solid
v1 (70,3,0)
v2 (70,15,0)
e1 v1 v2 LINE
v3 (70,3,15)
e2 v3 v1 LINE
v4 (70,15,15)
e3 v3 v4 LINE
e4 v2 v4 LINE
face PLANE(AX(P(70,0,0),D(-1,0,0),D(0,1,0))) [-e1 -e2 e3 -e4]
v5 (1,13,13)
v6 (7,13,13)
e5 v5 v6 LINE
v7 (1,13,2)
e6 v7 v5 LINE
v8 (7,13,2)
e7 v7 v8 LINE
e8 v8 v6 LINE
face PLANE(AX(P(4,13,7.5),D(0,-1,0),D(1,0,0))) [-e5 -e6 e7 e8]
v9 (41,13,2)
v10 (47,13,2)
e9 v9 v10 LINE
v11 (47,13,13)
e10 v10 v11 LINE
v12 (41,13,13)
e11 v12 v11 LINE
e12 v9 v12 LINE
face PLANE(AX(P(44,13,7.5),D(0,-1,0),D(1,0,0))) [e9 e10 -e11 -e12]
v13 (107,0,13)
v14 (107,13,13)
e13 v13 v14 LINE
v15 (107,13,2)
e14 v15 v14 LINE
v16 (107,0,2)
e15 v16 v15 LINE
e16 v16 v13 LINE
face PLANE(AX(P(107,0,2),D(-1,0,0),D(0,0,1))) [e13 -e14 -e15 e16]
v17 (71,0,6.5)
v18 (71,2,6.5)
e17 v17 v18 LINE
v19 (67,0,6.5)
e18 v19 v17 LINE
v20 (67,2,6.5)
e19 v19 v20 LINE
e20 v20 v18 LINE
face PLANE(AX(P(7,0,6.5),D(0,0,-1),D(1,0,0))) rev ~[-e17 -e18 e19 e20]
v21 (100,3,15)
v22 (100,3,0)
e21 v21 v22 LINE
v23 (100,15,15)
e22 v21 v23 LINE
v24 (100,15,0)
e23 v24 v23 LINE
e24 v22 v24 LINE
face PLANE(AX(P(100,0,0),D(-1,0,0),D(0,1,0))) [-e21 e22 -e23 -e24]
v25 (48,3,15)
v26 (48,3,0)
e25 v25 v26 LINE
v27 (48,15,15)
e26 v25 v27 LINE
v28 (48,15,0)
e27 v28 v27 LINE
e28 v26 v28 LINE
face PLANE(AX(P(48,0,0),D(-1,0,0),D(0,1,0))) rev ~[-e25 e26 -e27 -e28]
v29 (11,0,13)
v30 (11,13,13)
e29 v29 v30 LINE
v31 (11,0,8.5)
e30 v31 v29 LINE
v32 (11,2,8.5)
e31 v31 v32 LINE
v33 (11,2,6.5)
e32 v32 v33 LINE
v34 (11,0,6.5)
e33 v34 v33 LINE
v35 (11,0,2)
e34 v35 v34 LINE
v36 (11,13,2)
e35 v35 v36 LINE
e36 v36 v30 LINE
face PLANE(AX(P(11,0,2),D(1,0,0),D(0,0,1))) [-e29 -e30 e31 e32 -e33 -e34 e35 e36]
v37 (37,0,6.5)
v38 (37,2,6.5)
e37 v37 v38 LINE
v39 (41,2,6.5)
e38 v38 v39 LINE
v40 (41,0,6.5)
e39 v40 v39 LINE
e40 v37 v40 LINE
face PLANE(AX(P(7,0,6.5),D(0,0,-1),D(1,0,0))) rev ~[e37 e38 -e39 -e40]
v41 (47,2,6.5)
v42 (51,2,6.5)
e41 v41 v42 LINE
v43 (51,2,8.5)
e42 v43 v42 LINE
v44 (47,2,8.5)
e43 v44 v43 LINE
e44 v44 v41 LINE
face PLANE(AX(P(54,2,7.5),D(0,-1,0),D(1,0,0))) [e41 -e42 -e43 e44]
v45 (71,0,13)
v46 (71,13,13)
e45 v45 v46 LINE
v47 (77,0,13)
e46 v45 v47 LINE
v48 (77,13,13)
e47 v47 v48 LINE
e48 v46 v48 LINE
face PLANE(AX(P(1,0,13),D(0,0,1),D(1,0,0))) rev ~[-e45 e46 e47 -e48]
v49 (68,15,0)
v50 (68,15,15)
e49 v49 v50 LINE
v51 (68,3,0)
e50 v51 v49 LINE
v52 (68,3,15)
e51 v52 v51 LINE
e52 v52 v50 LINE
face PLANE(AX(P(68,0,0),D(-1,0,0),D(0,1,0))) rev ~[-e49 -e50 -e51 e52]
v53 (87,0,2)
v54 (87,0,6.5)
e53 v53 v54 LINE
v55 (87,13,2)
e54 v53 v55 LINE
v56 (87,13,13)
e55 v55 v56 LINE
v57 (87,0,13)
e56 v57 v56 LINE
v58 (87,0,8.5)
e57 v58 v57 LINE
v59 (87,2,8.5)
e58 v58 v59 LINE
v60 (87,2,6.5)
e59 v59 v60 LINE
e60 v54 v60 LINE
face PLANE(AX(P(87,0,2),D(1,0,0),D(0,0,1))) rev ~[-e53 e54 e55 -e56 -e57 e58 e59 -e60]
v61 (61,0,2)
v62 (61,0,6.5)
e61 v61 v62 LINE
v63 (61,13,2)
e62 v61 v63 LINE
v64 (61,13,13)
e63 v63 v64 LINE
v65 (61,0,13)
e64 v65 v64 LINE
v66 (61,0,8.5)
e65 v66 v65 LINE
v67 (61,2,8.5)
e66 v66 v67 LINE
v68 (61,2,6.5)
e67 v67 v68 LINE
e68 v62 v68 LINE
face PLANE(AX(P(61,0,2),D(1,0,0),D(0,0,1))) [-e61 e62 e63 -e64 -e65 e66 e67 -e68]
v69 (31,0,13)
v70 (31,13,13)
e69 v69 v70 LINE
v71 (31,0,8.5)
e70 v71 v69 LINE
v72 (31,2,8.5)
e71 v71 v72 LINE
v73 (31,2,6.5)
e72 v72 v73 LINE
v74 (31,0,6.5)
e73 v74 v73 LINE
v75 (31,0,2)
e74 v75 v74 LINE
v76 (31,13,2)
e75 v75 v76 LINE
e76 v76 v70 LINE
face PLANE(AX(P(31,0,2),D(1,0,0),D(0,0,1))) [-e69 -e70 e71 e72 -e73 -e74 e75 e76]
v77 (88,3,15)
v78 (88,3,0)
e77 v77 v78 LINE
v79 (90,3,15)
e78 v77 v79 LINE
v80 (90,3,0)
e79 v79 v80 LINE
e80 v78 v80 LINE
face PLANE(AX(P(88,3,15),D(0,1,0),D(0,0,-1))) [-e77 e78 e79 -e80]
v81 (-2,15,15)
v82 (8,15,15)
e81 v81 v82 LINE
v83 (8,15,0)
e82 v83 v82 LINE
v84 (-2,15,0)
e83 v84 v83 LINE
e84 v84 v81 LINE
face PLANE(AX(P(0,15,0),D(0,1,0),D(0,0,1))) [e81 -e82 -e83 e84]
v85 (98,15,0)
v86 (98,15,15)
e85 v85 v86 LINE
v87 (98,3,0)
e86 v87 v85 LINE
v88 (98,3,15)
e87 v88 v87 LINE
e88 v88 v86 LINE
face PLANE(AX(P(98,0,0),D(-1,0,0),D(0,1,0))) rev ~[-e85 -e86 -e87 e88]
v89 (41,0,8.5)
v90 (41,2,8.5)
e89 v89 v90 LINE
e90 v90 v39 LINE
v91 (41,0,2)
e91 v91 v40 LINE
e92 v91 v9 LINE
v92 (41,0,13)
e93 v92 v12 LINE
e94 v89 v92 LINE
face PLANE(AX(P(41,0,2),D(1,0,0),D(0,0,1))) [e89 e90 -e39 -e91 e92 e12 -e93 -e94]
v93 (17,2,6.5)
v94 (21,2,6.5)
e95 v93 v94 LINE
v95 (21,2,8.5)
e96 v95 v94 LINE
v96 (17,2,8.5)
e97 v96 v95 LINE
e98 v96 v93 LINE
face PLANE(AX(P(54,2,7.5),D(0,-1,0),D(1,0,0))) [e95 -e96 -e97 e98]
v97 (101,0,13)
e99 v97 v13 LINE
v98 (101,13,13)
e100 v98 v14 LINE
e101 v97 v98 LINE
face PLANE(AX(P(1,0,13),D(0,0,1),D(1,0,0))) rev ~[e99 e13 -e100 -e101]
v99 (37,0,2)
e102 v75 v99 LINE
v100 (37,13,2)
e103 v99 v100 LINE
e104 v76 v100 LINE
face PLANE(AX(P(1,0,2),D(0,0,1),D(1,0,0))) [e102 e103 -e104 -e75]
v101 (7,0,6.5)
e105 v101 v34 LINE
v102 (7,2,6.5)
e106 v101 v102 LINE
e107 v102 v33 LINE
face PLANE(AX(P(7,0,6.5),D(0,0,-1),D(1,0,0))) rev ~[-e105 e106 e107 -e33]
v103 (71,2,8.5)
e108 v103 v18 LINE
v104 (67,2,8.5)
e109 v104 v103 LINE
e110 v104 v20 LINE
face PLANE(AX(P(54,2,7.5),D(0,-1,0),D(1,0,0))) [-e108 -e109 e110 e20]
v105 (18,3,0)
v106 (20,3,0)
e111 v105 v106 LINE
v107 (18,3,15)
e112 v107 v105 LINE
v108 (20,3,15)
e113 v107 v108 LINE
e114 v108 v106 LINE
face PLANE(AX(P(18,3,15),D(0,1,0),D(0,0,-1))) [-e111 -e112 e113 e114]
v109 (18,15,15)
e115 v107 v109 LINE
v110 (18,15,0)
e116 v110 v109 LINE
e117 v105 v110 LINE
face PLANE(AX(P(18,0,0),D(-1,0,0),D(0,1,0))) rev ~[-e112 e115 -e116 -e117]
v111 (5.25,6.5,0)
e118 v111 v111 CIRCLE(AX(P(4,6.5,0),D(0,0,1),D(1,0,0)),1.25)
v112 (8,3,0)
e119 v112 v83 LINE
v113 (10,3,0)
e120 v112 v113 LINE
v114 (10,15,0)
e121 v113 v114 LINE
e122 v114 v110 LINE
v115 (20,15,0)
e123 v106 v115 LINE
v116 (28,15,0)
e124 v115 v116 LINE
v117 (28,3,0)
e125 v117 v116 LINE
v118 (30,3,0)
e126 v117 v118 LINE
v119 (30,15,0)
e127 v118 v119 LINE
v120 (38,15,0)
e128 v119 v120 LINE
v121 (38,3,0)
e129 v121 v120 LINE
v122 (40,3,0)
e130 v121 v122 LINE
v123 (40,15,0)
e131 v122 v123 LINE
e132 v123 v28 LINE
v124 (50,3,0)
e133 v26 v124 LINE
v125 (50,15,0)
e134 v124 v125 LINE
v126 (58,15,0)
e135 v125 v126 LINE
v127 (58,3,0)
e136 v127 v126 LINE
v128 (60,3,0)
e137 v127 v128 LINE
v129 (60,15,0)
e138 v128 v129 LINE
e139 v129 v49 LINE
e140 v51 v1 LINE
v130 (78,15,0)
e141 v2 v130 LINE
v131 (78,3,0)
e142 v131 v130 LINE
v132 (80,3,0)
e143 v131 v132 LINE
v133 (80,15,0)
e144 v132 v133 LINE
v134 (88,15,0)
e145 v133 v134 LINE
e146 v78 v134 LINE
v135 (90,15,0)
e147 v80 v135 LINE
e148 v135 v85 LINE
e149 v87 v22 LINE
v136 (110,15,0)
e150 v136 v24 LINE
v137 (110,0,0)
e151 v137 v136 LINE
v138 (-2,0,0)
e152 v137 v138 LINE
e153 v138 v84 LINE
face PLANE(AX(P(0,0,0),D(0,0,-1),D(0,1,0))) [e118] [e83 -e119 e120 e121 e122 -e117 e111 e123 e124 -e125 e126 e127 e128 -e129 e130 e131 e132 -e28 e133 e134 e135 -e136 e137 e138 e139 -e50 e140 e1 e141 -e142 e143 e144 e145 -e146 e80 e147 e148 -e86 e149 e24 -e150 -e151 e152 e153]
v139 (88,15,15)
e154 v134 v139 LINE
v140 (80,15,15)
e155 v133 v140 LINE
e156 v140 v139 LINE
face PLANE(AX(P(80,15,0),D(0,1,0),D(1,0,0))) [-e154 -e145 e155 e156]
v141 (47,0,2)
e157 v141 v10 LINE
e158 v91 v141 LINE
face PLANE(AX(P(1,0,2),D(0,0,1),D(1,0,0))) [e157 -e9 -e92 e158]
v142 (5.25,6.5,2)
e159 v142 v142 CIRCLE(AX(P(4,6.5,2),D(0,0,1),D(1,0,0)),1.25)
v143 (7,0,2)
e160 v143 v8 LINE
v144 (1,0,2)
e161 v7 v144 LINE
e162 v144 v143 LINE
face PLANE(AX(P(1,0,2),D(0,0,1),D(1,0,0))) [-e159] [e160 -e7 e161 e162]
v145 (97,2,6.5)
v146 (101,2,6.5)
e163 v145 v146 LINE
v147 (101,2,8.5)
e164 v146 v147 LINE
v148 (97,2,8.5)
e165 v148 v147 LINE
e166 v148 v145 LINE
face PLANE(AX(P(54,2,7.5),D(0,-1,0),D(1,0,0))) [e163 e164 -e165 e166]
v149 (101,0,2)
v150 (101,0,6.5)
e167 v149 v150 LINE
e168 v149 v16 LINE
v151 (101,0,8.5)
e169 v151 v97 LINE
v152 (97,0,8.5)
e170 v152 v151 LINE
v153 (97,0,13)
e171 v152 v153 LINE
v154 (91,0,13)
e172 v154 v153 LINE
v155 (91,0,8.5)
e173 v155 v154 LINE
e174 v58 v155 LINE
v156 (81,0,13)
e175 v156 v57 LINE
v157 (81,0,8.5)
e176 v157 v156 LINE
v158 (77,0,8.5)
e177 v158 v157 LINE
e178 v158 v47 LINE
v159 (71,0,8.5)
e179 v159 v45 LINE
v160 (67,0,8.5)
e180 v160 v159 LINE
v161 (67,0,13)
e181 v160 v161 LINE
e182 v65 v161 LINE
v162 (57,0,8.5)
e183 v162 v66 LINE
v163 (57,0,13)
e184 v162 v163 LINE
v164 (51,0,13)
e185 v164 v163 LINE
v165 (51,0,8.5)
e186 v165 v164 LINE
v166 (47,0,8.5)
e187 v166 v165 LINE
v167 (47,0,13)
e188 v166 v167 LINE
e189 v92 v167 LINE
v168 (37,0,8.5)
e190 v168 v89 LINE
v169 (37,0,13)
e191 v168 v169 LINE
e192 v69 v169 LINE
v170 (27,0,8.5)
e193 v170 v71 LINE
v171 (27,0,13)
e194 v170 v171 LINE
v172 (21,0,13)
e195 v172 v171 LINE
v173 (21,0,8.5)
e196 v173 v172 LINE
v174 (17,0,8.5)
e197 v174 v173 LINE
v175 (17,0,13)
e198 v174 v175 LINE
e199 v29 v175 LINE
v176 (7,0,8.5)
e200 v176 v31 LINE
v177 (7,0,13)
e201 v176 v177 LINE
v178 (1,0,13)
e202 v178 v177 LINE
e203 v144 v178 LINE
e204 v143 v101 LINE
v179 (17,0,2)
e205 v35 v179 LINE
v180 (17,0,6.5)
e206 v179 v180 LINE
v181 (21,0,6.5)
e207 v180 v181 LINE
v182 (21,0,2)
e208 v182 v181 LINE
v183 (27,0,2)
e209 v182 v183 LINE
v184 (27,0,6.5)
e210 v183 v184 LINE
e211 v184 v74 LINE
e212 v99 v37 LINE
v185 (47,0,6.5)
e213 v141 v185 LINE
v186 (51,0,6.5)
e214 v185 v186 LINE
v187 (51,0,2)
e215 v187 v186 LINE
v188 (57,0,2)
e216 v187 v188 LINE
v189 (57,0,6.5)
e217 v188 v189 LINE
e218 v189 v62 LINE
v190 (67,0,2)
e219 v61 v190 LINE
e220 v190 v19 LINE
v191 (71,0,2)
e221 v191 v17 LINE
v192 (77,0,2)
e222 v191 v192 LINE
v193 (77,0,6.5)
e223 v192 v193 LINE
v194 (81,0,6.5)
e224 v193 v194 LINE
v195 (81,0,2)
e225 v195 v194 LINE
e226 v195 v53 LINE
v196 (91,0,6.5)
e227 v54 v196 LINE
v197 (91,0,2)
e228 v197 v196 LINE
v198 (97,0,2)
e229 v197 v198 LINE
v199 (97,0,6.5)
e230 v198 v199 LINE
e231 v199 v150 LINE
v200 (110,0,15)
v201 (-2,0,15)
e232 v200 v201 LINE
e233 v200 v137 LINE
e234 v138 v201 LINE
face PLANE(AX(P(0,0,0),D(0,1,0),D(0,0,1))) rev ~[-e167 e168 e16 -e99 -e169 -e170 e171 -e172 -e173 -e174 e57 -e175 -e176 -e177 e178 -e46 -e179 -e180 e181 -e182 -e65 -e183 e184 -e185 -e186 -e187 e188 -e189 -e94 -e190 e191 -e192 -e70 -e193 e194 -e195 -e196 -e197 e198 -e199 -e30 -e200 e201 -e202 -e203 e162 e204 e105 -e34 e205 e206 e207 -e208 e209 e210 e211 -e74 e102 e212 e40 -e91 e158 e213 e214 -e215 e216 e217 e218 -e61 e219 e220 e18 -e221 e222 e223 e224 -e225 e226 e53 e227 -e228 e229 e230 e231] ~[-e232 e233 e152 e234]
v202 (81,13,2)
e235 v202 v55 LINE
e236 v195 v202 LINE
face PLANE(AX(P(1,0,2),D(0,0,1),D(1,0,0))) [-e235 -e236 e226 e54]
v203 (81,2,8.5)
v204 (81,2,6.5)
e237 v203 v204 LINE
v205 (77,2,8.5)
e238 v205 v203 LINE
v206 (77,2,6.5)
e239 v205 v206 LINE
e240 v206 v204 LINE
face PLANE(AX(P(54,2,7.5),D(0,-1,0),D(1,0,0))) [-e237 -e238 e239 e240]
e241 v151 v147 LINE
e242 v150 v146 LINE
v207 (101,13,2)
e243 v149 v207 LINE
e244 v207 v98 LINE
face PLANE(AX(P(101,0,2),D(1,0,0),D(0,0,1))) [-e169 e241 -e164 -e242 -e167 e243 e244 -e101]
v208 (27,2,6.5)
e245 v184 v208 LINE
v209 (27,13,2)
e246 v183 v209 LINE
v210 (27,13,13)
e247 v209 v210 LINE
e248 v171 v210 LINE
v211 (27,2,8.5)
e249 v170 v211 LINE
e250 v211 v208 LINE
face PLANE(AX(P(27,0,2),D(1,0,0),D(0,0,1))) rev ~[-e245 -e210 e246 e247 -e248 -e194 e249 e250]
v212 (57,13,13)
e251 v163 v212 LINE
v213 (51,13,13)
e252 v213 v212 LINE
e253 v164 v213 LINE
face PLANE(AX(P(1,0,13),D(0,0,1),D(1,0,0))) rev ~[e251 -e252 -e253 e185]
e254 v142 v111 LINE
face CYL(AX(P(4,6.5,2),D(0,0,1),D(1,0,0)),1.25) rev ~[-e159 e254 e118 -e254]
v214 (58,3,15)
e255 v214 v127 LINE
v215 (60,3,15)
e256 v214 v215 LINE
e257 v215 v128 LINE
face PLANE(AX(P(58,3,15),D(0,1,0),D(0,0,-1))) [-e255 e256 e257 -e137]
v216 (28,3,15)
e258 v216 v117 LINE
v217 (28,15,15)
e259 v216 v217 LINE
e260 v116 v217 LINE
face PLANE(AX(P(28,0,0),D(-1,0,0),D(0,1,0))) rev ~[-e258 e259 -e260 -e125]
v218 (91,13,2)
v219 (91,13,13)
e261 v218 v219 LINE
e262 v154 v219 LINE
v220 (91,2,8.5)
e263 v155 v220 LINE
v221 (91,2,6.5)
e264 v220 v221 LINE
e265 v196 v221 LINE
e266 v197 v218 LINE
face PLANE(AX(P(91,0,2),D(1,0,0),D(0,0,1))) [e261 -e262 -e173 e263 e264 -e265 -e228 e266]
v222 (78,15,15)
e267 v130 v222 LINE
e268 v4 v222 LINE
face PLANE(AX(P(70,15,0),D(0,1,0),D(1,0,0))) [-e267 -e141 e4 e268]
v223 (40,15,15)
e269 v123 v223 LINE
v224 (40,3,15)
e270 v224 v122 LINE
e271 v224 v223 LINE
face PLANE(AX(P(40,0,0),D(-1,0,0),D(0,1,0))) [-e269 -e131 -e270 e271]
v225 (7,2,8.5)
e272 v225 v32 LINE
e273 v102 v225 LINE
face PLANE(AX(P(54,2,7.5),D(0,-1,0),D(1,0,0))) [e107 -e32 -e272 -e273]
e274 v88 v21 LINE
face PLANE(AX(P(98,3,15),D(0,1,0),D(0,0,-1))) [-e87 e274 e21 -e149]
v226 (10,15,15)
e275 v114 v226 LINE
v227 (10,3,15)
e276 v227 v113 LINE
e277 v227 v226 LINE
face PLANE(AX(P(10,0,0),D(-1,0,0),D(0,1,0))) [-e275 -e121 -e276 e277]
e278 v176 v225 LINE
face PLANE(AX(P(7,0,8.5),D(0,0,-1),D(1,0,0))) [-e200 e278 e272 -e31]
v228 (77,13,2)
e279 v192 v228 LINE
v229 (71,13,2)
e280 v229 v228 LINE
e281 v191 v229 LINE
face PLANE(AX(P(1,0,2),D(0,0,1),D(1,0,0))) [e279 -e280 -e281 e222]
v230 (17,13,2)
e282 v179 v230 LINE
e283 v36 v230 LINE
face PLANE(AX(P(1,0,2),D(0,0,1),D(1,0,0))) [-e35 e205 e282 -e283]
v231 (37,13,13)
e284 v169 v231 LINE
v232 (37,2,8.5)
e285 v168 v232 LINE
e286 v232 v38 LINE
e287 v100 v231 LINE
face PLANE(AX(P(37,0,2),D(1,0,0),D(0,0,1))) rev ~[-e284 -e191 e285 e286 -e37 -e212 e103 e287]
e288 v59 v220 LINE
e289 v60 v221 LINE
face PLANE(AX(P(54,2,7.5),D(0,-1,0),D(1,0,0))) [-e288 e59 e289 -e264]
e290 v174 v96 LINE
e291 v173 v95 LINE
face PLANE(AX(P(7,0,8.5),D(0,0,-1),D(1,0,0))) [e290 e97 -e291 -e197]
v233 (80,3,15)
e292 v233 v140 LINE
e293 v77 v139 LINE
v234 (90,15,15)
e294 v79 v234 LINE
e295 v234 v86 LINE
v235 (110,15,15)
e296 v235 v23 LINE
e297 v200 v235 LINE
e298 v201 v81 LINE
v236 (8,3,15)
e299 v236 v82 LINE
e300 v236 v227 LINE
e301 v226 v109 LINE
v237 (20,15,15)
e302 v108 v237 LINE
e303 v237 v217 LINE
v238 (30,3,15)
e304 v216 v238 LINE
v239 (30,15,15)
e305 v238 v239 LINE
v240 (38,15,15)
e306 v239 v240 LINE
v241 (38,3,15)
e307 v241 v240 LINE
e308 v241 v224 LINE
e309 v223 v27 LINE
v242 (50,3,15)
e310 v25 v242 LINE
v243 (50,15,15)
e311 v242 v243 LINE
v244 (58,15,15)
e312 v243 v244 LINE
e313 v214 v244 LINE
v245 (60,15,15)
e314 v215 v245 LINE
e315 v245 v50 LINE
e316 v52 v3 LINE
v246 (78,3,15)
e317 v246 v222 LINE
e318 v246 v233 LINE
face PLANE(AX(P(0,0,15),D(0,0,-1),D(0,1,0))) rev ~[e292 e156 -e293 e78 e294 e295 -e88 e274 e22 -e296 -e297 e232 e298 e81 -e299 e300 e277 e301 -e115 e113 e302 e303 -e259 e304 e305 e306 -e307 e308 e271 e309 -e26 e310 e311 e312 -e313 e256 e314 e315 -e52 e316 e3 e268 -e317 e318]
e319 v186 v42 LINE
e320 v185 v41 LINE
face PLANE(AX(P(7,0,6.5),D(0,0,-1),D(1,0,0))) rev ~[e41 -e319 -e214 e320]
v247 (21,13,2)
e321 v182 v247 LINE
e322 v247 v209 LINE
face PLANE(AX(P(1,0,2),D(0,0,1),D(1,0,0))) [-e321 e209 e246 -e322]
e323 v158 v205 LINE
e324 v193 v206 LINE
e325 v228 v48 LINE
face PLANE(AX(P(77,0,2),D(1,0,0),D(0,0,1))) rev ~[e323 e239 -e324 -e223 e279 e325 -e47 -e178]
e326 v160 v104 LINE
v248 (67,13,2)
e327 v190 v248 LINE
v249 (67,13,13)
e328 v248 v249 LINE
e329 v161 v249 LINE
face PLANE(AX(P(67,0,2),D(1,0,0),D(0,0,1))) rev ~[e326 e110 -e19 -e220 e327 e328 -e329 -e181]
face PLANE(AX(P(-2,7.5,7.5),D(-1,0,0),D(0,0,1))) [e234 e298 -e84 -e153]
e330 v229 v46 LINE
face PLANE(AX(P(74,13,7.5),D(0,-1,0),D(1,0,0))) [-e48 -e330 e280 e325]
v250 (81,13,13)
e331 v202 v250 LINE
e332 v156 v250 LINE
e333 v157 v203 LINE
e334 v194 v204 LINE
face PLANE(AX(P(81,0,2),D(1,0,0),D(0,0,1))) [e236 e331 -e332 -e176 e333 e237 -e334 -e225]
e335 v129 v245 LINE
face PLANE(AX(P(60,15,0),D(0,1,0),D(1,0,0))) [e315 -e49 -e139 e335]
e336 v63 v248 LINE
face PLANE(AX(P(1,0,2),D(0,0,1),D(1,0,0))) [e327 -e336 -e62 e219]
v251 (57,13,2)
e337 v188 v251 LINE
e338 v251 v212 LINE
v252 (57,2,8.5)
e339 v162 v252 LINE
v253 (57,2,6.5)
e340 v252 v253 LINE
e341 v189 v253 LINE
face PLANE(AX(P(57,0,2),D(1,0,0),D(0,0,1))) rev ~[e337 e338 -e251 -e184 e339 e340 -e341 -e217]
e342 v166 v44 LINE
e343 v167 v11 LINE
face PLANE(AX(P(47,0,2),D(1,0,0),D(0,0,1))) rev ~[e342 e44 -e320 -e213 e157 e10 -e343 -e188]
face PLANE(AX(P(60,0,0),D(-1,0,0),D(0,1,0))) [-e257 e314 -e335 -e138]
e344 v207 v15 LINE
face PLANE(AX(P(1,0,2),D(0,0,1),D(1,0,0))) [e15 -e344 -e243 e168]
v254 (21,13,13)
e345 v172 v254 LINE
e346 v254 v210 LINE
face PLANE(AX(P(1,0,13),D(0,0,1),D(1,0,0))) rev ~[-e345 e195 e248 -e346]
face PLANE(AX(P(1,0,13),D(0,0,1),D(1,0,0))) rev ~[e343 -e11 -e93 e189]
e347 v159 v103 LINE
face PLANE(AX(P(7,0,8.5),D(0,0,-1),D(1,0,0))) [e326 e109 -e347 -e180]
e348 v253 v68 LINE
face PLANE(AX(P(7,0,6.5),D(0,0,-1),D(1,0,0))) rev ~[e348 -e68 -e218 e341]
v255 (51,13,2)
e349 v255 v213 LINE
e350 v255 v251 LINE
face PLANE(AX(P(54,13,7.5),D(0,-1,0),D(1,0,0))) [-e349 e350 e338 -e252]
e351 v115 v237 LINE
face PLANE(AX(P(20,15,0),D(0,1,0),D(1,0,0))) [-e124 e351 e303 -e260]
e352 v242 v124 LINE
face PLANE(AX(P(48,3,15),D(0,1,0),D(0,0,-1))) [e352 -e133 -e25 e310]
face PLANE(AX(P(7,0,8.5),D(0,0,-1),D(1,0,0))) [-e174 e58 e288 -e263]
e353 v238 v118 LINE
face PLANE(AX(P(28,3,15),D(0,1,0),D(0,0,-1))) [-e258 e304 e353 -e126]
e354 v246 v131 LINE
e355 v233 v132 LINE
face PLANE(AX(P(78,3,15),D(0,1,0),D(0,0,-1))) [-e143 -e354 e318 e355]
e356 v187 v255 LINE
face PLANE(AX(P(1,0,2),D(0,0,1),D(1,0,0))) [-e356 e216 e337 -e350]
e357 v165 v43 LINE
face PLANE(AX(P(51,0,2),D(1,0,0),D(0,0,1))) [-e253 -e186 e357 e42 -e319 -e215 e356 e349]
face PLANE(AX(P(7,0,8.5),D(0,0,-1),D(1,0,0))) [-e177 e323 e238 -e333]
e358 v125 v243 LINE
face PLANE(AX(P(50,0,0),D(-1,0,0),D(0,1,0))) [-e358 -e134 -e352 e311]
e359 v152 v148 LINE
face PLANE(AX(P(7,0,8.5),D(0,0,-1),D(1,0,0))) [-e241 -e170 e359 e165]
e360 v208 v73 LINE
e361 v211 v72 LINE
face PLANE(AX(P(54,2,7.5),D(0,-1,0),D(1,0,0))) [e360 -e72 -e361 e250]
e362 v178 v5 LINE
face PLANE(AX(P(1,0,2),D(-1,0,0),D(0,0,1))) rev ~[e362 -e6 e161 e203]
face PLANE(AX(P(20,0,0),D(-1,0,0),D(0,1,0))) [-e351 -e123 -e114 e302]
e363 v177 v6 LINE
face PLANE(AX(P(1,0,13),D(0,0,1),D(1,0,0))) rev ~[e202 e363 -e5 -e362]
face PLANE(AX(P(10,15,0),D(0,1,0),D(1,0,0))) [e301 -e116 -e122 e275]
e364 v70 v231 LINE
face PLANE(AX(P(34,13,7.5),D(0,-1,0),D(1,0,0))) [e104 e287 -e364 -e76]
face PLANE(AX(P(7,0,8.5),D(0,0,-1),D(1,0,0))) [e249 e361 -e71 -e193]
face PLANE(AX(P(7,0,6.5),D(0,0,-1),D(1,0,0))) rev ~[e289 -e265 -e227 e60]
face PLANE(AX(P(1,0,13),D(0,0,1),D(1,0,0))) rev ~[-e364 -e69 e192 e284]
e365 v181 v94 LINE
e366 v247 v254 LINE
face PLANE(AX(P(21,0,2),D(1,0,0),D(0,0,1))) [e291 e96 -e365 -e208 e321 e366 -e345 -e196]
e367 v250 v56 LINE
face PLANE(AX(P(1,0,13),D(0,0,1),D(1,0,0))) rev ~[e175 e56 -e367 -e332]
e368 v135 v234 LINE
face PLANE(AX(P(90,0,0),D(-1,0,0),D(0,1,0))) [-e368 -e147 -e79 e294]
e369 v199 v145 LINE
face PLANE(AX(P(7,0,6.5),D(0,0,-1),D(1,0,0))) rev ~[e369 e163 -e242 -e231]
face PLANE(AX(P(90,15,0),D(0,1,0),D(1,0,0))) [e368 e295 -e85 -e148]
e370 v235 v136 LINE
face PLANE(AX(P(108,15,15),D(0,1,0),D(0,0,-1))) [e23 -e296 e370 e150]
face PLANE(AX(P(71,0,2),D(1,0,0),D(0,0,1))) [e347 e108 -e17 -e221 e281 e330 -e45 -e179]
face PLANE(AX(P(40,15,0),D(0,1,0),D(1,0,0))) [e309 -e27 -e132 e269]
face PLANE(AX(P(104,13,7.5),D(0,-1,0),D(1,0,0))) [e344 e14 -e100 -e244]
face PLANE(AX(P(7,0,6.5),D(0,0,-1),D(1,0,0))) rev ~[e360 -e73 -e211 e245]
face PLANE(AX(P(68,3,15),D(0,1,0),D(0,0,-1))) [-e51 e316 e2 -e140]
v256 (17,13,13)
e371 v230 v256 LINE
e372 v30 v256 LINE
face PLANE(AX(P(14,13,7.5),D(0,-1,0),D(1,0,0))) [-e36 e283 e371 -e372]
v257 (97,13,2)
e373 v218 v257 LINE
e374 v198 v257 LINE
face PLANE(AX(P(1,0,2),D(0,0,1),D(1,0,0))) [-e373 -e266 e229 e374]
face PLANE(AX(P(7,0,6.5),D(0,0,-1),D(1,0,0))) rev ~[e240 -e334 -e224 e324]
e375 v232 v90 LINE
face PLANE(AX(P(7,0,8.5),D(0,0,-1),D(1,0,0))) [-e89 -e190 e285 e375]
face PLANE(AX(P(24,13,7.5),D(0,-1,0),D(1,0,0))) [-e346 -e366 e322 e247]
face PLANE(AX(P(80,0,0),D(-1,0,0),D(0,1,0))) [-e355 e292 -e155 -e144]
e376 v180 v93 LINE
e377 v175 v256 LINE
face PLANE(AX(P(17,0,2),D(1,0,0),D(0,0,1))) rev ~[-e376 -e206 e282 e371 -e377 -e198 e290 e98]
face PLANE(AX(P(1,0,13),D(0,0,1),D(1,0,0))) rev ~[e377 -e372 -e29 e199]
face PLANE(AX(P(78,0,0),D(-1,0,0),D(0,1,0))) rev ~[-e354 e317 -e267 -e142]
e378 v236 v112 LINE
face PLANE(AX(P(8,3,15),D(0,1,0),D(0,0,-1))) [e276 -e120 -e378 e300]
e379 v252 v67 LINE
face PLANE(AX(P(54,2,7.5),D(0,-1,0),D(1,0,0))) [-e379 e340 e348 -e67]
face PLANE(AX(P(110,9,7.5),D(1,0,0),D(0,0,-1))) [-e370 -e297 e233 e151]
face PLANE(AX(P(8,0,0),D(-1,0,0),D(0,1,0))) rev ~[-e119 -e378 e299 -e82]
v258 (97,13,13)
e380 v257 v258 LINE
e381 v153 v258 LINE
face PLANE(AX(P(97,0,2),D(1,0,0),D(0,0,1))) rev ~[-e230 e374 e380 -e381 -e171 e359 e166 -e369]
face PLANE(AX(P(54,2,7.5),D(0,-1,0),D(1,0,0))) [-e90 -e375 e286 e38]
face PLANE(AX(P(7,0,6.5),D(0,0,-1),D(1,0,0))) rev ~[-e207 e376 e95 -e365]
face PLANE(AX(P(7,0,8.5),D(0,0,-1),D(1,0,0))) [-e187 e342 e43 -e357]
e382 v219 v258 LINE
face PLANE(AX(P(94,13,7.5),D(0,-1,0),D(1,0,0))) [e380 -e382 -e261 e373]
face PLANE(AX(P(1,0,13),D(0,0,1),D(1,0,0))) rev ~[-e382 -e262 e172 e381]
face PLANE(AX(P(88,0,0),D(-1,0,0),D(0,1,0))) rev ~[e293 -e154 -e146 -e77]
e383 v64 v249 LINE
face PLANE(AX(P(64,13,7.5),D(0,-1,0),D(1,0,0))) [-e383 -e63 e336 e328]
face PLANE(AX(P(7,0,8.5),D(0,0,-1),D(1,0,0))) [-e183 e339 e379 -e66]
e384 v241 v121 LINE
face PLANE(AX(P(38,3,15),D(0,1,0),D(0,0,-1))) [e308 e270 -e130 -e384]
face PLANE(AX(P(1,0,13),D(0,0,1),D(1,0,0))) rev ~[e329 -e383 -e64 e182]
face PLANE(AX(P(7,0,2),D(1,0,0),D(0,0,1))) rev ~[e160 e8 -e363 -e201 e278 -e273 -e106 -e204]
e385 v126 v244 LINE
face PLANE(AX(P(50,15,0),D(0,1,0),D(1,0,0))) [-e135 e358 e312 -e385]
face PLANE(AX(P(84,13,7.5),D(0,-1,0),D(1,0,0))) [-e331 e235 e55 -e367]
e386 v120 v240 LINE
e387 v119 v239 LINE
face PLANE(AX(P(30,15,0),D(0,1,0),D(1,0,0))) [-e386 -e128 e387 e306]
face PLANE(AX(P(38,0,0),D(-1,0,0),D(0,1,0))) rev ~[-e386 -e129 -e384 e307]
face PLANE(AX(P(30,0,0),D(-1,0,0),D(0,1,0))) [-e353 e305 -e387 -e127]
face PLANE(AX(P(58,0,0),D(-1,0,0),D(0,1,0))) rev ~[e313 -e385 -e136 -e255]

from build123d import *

# Parameters (mm, degrees)
SKETCH1_W                       = 8
SKETCH1_H                       = 15
FIRST_CHAMBER_BLOCK_DEPTH       = 15
SKETCH2_W                       = 6
SKETCH2_H                       = 11
FIRST_CHAMBER_CAVITY_DEPTH      = 13
SKETCH3_W                       = 15
SKETCH3_H                       = 3
CHAMBER_SPACER_DEPTH            = 2
PATTERN_CHAMBERS_COUNT          = 11
PATTERN_CHAMBERS_PITCH          = 10
SKETCH4_W                       = 15
SKETCH4_H                       = 12
THICKEN_END_1_DEPTH             = 2
SKETCH5_W                       = 15
SKETCH5_H                       = 15
THICKEN_END_2_DEPTH             = 2
SKETCH6_W                       = 94
SKETCH6_H                       = 2
CENTRAL_AIR_CHANNEL_DEPTH       = 2
SKETCH7_W                       = 108
SKETCH7_H                       = 13
SKETCH7_W_2                     = 106
SKETCH7_H_2                     = 11
BONDING_RIDGE_DEPTH             = 2
SKETCH9_W                       = 2
SKETCH9_H                       = 2.5
BONDING_BUMPS_DEPTH             = 2
PATTERN_BONDING_BUMPS_COUNT     = 10
PATTERN_BONDING_BUMPS_PITCH     = 10
SKIZZE1_W                       = 112
SKIZZE1_H                       = 15
SCHNITT_LINEAR_AUSTRAGEN1_DEPTH = 113.026782512
SKIZZE4_R                       = 1.25
SCHNITT_LINEAR_AUSTRAGEN3_DEPTH = 112.776562839


with BuildPart() as part:
    # Sketch1 → first chamber block (new body)
    with BuildSketch(Plane.XY):
        with Locations((4, 7.5)):
            Rectangle(SKETCH1_W, SKETCH1_H)
    extrude(amount=FIRST_CHAMBER_BLOCK_DEPTH)

    # Sketch2 → first chamber cavity (cut)
    with BuildSketch(Plane.XZ):
        with Locations((4, 7.5)):
            Rectangle(SKETCH2_W, SKETCH2_H)
    extrude(amount=-FIRST_CHAMBER_CAVITY_DEPTH, mode=Mode.SUBTRACT)

    # Sketch3 → chamber spacer (add)
    with BuildSketch(Plane(origin=(8, 0, 0), x_dir=(0, 0, -1), z_dir=(1, 0, 0))):
        with Locations((-7.5, 1.5)):
            Rectangle(SKETCH3_W, SKETCH3_H)
    extrude(amount=CHAMBER_SPACER_DEPTH)


with BuildPart() as pattern_chambers_1:
    # pattern chambers: pattern copy
    add(part.part.moved(Location(Vector(1, 0, 0) * (1 * PATTERN_CHAMBERS_PITCH))))


with BuildPart() as pattern_chambers_2:
    # pattern chambers: pattern copy
    add(part.part.moved(Location(Vector(1, 0, 0) * (2 * PATTERN_CHAMBERS_PITCH))))


with BuildPart() as pattern_chambers_3:
    # pattern chambers: pattern copy
    add(part.part.moved(Location(Vector(1, 0, 0) * (3 * PATTERN_CHAMBERS_PITCH))))


with BuildPart() as pattern_chambers_4:
    # pattern chambers: pattern copy
    add(part.part.moved(Location(Vector(1, 0, 0) * (4 * PATTERN_CHAMBERS_PITCH))))


with BuildPart() as pattern_chambers_5:
    # pattern chambers: pattern copy
    add(part.part.moved(Location(Vector(1, 0, 0) * (5 * PATTERN_CHAMBERS_PITCH))))


with BuildPart() as pattern_chambers_6:
    # pattern chambers: pattern copy
    add(part.part.moved(Location(Vector(1, 0, 0) * (6 * PATTERN_CHAMBERS_PITCH))))


with BuildPart() as pattern_chambers_7:
    # pattern chambers: pattern copy
    add(part.part.moved(Location(Vector(1, 0, 0) * (7 * PATTERN_CHAMBERS_PITCH))))


with BuildPart() as pattern_chambers_8:
    # pattern chambers: pattern copy
    add(part.part.moved(Location(Vector(1, 0, 0) * (8 * PATTERN_CHAMBERS_PITCH))))


with BuildPart() as pattern_chambers_9:
    # pattern chambers: pattern copy
    add(part.part.moved(Location(Vector(1, 0, 0) * (9 * PATTERN_CHAMBERS_PITCH))))


with BuildPart() as pattern_chambers_10:
    # pattern chambers: pattern copy
    add(part.part.moved(Location(Vector(1, 0, 0) * (10 * PATTERN_CHAMBERS_PITCH))))

    # combine into 1 solid body: union pattern chambers_9, pattern chambers_8, pattern chambers_7, pattern chambers_6, pattern chambers_5, pattern chambers_4, pattern chambers_3, pattern chambers_2, pattern chambers_1, part
    add(pattern_chambers_9.part)
    add(pattern_chambers_8.part)
    add(pattern_chambers_7.part)
    add(pattern_chambers_6.part)
    add(pattern_chambers_5.part)
    add(pattern_chambers_4.part)
    add(pattern_chambers_3.part)
    add(pattern_chambers_2.part)
    add(pattern_chambers_1.part)
    add(part.part)

    # Sketch4 → thicken end 1 (add)
    with BuildSketch(Plane(origin=(108, 0, 0), x_dir=(0, 0, -1), z_dir=(1, 0, 0))):
        with Locations((-7.5, 9)):
            Rectangle(SKETCH4_W, SKETCH4_H)
    extrude(amount=THICKEN_END_1_DEPTH)

    # Sketch5 → thicken end 2 (add)
    with BuildSketch(Plane.ZY):
        with Locations((7.5, 7.5)):
            Rectangle(SKETCH5_W, SKETCH5_H)
    extrude(amount=THICKEN_END_2_DEPTH)

    # Sketch6 → central air channel (cut)
    with BuildSketch(Plane.XZ):
        with Locations((54, 7.5)):
            Rectangle(SKETCH6_W, SKETCH6_H)
    extrude(amount=-CENTRAL_AIR_CHANNEL_DEPTH, mode=Mode.SUBTRACT)

    # Sketch7 → bonding ridge (add)
    with BuildSketch(Plane.XZ):
        with Locations((54, 7.5)):
            Rectangle(SKETCH7_W, SKETCH7_H)
        with Locations((54, 7.5)):
            Rectangle(SKETCH7_W_2, SKETCH7_H_2, mode=Mode.SUBTRACT)
    extrude(amount=BONDING_RIDGE_DEPTH)

    # Sketch9 → bonding bumps (add)
    with BuildSketch(Plane.XZ):
        with Locations((9, 10.75)):
            Rectangle(SKETCH9_W, SKETCH9_H)
        with Locations((9, 4.25)):
            Rectangle(SKETCH9_W, SKETCH9_H)
    bonding_bumps = extrude(amount=BONDING_BUMPS_DEPTH)

    # pattern bonding bumps: bonding bumps ×10
    with Locations(*[(i * PATTERN_BONDING_BUMPS_PITCH, 0, 0) for i in range(1, PATTERN_BONDING_BUMPS_COUNT)]):
        add(bonding_bumps)

    # Skizze1 → Schnitt-Linear austragen1 (cut, through all)
    with BuildSketch(Plane.XZ):
        with Locations((54, 7.5)):
            Rectangle(SKIZZE1_W, SKIZZE1_H)
    extrude(amount=SCHNITT_LINEAR_AUSTRAGEN1_DEPTH, mode=Mode.SUBTRACT)

    # Skizze4 → Schnitt-Linear austragen3 (cut, through all)
    with BuildSketch(Plane.XY.offset(2)):
        with Locations((4, 6.5)):
            Circle(SKIZZE4_R)
    extrude(amount=-SCHNITT_LINEAR_AUSTRAGEN3_DEPTH, mode=Mode.SUBTRACT)


solid = pattern_chambers_10.part
